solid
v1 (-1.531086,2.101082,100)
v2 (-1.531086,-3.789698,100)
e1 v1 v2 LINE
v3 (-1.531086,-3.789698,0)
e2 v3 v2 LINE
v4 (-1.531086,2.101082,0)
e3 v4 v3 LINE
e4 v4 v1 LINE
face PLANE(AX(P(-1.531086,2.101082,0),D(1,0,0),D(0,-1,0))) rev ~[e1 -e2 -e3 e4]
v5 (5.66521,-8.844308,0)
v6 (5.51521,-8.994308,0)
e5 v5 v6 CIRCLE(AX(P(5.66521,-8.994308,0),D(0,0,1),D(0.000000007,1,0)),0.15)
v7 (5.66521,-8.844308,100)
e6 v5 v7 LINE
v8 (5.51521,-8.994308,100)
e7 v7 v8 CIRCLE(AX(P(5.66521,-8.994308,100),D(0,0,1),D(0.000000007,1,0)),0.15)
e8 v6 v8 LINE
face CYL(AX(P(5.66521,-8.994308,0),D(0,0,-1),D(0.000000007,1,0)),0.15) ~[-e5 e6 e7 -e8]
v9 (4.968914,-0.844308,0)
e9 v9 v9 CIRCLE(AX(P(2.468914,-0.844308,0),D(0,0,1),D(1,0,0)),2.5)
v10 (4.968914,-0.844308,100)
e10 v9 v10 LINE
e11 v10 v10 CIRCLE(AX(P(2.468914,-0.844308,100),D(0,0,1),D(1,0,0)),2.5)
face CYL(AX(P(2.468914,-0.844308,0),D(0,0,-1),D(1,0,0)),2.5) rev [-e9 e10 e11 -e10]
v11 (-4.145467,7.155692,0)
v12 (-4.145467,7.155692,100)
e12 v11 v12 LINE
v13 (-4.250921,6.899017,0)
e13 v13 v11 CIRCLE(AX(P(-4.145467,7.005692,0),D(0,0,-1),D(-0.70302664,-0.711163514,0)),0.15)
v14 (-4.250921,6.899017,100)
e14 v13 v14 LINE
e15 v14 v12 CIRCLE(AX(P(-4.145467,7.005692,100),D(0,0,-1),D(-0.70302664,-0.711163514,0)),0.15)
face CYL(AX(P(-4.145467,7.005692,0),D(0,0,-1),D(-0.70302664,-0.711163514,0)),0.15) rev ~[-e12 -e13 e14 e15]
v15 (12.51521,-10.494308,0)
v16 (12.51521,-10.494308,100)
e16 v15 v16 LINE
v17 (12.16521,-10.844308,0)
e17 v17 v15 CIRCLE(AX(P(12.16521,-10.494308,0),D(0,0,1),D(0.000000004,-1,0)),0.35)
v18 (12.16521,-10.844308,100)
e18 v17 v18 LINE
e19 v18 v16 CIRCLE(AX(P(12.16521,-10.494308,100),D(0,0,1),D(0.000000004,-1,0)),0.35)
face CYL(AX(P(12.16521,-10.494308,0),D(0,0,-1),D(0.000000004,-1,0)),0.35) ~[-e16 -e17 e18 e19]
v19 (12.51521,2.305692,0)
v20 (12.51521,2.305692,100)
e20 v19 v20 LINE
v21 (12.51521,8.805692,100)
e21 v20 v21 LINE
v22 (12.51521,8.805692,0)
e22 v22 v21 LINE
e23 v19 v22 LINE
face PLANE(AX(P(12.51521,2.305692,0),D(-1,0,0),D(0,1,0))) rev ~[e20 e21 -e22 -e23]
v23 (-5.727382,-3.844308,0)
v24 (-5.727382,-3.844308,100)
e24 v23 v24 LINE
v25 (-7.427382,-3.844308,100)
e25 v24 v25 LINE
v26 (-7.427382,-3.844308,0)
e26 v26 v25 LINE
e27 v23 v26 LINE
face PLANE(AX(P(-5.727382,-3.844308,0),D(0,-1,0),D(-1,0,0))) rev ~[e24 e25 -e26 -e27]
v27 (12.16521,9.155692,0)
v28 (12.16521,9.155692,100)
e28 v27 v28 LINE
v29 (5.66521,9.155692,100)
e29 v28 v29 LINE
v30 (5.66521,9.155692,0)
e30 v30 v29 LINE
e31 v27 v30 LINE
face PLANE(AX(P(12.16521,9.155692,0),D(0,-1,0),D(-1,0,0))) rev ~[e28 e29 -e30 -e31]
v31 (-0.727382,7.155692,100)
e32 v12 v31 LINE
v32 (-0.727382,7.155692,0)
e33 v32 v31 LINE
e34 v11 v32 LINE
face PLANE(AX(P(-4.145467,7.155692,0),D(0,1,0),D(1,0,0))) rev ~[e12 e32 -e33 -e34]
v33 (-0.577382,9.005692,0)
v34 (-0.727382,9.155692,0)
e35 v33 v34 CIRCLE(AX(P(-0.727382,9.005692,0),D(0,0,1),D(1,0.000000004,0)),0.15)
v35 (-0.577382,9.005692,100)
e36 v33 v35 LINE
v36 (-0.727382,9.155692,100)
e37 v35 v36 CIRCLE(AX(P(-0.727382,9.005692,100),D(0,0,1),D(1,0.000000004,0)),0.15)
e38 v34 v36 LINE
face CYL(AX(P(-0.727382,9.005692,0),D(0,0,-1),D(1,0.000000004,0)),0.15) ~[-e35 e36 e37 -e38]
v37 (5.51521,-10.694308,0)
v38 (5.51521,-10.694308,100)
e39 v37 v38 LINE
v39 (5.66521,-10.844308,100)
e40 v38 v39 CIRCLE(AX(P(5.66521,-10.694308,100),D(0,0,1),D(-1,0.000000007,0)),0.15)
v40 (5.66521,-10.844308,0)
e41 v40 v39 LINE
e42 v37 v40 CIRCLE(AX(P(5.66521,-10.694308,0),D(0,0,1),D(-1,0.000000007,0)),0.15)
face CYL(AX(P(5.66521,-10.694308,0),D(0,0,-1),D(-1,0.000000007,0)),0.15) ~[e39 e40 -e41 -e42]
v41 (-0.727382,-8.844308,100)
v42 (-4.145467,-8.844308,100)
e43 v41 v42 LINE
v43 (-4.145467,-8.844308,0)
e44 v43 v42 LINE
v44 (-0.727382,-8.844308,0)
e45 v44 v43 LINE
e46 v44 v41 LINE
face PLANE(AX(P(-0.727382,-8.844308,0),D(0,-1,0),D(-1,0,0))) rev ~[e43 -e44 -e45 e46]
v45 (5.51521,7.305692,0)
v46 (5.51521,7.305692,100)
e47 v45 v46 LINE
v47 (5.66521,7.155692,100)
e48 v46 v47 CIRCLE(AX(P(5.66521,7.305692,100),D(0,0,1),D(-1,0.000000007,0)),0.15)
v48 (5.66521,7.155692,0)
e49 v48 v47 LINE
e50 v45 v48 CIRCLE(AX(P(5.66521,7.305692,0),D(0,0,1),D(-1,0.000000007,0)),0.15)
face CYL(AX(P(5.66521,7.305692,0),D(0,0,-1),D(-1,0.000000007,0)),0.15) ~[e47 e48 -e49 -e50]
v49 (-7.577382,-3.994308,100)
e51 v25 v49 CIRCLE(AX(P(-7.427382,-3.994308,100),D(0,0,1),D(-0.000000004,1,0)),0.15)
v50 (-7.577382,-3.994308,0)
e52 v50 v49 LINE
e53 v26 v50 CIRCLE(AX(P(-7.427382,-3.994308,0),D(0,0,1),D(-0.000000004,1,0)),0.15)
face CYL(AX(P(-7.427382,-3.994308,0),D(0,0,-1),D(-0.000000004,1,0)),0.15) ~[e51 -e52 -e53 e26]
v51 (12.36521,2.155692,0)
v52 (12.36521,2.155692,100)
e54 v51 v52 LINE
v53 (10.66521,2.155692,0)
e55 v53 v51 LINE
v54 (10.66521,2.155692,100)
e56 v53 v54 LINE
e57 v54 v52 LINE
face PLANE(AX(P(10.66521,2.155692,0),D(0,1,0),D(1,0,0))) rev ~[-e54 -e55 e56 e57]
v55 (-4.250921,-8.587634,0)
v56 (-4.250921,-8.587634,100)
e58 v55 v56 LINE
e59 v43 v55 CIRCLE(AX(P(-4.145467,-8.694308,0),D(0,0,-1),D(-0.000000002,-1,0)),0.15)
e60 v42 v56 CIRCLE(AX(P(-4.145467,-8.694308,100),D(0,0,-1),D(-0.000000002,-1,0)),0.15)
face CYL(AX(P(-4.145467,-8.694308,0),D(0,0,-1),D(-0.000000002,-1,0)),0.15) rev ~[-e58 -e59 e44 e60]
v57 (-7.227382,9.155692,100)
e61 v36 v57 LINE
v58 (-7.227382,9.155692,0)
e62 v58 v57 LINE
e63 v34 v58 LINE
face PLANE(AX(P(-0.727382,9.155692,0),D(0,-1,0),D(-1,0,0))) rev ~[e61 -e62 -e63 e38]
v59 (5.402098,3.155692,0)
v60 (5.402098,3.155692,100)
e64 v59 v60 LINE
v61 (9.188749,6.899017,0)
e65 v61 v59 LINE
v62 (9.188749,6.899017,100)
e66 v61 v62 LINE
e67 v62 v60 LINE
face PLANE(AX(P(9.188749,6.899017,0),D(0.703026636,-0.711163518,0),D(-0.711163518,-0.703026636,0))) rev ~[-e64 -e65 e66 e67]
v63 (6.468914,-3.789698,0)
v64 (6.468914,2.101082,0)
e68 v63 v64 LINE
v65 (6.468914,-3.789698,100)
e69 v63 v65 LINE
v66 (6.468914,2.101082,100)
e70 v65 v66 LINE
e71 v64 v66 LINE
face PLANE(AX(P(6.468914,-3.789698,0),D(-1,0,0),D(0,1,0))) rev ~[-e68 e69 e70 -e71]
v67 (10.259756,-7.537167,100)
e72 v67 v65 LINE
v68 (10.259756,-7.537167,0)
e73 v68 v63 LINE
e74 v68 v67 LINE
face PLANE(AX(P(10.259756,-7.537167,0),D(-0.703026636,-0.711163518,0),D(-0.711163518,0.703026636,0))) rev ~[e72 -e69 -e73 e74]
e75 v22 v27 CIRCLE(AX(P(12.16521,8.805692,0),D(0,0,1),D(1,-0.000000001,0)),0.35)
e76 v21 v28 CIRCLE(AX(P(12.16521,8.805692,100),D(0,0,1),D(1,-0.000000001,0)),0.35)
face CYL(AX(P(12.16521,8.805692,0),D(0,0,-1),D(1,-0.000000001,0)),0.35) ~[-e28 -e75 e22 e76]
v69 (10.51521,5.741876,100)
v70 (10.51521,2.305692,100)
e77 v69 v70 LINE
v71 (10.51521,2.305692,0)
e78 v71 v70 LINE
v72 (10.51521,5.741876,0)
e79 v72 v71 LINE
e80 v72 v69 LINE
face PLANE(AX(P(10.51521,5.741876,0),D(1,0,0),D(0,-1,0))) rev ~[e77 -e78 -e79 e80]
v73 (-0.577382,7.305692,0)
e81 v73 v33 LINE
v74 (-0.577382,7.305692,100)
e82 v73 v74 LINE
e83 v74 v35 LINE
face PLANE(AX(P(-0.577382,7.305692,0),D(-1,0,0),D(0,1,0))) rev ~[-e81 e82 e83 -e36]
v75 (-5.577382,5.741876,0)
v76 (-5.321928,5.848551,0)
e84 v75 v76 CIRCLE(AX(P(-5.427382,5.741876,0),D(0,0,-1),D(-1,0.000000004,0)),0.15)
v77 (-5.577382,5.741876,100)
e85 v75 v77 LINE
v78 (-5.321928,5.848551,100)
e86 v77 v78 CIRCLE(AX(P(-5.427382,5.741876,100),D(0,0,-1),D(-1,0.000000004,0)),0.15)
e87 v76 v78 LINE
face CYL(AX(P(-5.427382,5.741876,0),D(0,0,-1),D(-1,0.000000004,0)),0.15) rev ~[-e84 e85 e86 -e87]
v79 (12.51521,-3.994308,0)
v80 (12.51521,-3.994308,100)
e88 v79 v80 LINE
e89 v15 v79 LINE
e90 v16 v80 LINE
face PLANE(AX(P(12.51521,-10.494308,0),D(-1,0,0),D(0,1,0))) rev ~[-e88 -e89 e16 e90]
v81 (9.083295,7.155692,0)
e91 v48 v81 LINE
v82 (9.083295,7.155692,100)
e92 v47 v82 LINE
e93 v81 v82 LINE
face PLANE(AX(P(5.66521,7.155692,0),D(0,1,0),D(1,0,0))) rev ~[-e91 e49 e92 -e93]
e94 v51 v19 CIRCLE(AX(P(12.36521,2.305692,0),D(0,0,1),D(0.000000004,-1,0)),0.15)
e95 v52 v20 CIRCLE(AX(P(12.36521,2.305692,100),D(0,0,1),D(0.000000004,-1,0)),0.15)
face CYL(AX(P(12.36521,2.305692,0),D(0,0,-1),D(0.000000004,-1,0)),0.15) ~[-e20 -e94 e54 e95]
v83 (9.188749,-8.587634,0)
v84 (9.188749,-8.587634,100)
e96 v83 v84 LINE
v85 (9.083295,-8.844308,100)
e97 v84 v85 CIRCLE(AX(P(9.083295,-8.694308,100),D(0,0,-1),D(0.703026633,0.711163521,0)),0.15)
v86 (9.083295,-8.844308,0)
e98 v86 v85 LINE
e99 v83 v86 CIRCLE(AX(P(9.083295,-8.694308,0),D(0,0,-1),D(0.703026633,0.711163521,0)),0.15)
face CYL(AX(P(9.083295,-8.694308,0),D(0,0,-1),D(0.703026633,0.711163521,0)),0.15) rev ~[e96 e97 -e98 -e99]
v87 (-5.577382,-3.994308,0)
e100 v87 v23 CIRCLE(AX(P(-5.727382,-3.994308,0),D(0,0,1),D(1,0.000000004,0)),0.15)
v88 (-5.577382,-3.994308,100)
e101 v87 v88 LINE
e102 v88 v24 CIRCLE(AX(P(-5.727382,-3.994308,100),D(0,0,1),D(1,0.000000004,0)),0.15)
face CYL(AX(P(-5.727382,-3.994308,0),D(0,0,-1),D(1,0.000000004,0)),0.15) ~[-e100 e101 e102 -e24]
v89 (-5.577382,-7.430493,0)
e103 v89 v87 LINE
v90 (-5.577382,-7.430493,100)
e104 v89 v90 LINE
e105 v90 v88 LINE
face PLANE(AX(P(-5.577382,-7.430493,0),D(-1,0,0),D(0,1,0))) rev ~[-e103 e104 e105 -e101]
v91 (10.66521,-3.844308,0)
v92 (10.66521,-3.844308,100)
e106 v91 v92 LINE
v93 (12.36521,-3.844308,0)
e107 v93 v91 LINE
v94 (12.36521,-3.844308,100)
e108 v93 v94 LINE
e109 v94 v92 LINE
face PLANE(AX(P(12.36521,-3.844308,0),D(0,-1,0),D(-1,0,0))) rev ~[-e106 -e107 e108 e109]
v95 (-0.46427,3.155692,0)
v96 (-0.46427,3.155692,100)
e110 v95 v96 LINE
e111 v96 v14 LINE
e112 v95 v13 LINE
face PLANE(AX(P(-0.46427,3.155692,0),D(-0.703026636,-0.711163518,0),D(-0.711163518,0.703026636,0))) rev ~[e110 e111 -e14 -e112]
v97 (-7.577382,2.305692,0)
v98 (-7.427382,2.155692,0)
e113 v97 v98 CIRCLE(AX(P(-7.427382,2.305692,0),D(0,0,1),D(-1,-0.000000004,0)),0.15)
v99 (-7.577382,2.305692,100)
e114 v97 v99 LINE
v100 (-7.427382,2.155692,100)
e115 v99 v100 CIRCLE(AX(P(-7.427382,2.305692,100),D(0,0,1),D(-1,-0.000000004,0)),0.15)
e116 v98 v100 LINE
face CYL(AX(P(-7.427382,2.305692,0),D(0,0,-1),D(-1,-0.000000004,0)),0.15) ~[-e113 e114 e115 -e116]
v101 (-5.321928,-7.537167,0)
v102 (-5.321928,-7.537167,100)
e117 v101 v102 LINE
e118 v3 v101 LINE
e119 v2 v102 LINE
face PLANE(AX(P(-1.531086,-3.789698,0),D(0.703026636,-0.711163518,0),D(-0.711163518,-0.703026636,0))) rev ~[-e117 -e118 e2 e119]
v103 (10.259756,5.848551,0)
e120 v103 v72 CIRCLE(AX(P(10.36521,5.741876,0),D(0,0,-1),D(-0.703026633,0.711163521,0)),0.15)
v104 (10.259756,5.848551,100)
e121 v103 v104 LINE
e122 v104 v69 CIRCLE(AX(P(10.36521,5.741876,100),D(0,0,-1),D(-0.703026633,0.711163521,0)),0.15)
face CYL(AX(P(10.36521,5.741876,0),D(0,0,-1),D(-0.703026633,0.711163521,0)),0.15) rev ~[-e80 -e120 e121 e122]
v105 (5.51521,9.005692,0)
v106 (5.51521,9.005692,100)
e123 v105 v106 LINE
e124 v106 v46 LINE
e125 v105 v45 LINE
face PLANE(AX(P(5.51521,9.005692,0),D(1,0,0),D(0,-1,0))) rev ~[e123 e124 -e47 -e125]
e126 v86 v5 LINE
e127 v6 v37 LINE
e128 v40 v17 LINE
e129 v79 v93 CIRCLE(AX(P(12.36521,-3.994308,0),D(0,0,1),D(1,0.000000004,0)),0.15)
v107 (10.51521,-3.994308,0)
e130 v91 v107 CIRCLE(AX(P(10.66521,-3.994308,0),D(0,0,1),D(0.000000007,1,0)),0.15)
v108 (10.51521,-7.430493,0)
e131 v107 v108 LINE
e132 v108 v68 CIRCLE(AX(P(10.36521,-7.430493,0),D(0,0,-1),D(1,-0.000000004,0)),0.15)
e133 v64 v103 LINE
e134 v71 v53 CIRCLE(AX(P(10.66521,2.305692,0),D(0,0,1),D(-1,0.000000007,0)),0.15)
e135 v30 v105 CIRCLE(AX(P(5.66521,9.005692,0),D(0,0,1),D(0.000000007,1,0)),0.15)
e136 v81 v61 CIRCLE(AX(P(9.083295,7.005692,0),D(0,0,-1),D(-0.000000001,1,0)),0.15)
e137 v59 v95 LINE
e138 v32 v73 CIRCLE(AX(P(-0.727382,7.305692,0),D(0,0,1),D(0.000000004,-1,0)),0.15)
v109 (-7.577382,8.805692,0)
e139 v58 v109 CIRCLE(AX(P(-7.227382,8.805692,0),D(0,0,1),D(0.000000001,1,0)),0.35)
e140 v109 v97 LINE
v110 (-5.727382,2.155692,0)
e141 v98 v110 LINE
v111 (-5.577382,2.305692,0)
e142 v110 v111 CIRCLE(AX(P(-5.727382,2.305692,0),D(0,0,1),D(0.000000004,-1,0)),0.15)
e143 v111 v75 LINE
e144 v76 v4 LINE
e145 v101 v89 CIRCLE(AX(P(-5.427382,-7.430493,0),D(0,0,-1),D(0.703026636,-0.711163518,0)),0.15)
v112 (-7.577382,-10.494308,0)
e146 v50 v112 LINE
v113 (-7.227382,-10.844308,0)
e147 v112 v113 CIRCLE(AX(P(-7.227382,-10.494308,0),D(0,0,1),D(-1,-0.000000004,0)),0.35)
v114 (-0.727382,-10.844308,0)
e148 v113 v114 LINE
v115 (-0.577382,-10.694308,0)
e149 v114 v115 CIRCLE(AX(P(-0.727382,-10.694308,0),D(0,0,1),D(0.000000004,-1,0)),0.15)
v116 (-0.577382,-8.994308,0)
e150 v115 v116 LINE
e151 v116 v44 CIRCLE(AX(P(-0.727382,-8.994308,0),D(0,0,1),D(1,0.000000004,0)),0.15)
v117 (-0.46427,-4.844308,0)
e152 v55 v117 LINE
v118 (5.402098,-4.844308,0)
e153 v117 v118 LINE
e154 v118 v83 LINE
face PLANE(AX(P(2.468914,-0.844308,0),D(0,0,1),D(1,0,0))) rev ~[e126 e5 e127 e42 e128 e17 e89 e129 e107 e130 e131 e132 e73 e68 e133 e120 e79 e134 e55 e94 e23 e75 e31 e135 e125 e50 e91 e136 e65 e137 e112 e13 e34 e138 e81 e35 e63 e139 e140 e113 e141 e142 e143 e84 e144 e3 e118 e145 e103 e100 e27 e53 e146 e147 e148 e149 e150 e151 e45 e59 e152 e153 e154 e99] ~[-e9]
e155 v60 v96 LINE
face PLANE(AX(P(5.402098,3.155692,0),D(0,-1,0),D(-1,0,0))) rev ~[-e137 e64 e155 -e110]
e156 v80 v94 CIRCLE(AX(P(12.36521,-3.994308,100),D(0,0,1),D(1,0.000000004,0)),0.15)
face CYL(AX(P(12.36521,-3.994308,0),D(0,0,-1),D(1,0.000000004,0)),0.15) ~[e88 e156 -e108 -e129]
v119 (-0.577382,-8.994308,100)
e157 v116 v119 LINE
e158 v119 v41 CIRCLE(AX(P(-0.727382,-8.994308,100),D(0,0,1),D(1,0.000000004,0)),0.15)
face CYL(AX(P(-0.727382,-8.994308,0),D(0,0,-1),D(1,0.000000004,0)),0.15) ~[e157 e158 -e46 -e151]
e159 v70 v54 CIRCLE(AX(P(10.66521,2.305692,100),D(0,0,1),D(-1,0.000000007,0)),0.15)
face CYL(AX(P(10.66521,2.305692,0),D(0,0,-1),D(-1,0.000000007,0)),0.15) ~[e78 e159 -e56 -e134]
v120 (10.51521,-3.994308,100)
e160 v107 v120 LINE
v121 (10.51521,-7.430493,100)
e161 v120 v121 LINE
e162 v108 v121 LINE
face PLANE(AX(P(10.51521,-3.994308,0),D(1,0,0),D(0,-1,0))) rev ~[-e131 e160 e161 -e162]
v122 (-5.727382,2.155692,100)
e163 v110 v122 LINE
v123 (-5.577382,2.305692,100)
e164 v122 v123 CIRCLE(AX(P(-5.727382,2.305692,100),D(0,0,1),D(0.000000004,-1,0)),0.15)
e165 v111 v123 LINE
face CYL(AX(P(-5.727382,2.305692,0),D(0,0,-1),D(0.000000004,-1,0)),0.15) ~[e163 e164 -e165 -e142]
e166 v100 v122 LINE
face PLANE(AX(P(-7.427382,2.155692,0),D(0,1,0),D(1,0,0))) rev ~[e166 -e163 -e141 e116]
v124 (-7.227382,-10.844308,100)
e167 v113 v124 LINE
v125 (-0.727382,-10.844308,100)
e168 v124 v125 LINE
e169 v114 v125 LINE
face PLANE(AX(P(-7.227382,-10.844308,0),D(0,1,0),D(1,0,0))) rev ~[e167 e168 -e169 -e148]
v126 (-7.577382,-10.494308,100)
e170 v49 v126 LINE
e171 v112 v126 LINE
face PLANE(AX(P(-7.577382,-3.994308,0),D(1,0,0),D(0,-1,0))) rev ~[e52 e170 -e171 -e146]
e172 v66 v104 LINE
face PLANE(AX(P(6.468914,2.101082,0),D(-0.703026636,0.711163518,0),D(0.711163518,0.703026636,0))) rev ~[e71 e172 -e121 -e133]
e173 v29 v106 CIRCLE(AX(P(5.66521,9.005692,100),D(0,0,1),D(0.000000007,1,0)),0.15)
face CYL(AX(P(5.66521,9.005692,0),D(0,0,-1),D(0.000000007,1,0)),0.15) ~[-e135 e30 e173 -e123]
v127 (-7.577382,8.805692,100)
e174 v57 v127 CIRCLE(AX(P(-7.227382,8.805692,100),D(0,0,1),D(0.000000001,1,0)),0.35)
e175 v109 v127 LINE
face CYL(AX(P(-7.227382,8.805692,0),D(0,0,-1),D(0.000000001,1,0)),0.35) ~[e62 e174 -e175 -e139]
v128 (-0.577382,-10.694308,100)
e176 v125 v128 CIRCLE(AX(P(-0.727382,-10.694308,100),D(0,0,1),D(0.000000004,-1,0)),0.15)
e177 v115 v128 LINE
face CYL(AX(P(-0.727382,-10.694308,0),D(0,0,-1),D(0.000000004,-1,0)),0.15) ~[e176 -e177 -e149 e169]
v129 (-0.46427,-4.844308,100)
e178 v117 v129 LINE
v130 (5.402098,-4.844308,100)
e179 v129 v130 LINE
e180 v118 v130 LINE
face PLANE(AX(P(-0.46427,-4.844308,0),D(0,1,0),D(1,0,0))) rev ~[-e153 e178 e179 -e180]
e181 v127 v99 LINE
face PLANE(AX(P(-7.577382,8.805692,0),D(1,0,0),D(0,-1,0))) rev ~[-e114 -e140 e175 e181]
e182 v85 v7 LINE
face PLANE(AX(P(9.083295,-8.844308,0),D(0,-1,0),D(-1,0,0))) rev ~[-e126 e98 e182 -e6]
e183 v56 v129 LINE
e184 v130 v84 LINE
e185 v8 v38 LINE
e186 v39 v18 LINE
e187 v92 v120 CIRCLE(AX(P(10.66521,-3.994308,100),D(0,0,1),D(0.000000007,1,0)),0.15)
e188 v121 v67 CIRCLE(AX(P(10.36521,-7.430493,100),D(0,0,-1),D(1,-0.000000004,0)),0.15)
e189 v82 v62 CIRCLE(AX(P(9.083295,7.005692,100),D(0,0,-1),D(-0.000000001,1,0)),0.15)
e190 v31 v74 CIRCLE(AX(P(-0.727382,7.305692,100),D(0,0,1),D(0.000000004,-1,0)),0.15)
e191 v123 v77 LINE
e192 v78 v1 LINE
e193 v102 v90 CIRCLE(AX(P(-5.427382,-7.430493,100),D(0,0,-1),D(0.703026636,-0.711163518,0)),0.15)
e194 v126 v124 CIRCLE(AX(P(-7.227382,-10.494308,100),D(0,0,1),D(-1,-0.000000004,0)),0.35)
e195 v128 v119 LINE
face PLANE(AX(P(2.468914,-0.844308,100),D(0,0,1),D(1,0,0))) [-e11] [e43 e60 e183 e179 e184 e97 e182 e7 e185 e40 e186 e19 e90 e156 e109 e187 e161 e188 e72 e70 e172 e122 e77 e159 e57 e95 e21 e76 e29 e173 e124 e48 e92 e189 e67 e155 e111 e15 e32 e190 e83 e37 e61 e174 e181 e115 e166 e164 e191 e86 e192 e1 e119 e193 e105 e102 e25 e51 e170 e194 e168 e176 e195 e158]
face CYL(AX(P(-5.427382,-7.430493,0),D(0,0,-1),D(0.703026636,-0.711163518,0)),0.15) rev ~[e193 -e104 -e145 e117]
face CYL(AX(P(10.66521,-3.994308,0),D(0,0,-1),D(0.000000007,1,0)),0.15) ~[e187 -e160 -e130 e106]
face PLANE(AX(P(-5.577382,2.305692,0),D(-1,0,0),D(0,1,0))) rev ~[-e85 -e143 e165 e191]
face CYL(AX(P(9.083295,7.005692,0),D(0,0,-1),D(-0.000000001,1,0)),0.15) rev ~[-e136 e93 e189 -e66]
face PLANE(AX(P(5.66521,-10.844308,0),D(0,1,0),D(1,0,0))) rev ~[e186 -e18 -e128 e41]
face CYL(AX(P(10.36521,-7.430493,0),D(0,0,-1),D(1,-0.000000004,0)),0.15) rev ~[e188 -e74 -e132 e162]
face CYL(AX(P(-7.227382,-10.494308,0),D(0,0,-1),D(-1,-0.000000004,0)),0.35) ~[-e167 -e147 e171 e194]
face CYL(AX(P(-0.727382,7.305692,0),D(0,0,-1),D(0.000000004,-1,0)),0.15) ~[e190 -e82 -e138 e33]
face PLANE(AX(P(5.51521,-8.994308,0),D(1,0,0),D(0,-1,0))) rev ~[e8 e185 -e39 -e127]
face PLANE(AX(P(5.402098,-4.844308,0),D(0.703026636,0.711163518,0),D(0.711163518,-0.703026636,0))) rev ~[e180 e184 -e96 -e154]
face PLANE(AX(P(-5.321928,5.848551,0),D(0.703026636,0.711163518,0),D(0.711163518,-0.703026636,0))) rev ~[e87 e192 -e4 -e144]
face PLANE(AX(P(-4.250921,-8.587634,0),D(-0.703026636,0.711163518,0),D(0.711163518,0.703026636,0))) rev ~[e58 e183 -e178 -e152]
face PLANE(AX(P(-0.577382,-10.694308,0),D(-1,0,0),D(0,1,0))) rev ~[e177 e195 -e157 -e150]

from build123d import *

# Parameters (mm, degrees)
SKETCH1_R           = 2.5
BOSS_EXTRUDE1_DEPTH = 100


with BuildPart() as part:
    # Sketch1 → Boss-Extrude1 (new body)
    with BuildSketch(Plane.XY):
        with BuildLine():
            Line((-7.427382464, 2.155691805), (-5.727382464, 2.155691805))
            ThreePointArc((-5.727382464, 2.155691805), (-5.621316447, 2.199625788), (-5.577382464, 2.305691805))
            Line((-5.577382464, 2.305691805), (-5.577382464, 5.741876319))
            ThreePointArc((-5.577382464, 5.741876319), (-5.485183419, 5.880292537), (-5.321928469, 5.848550846))
            Line((-5.321928469, 5.848550846), (-1.531086168, 2.101082027))
            Line((-1.531086168, 2.101082027), (-1.531086168, -3.789698417))
            Line((-1.531086168, -3.789698417), (-5.321928469, -7.537167236))
            ThreePointArc((-5.321928469, -7.537167236), (-5.485183419, -7.568908927), (-5.577382464, -7.430492708))
            Line((-5.577382464, -7.430492708), (-5.577382464, -3.994308195))
            ThreePointArc((-5.577382464, -3.994308195), (-5.621316447, -3.888242178), (-5.727382464, -3.844308195))
            Line((-5.727382464, -3.844308195), (-7.427382464, -3.844308195))
            ThreePointArc((-7.427382464, -3.844308195), (-7.533448481, -3.888242178), (-7.577382464, -3.994308195))
            Line((-7.577382464, -3.994308195), (-7.577382464, -10.494308195))
            ThreePointArc((-7.577382464, -10.494308195), (-7.474869837, -10.741795568), (-7.227382464, -10.844308195))
            Line((-7.227382464, -10.844308195), (-0.727382464, -10.844308195))
            ThreePointArc((-0.727382464, -10.844308195), (-0.621316447, -10.800374212), (-0.577382464, -10.694308195))
            Line((-0.577382464, -10.694308195), (-0.577382464, -8.994308195))
            ThreePointArc((-0.577382464, -8.994308195), (-0.621316447, -8.888242178), (-0.727382464, -8.844308195))
            Line((-0.727382464, -8.844308195), (-4.145467261, -8.844308195))
            ThreePointArc((-4.145467261, -8.844308195), (-4.284213755, -8.751311795), (-4.250921257, -8.587633667))
            Line((-4.250921257, -8.587633667), (-0.464270258, -4.844308195))
            Line((-0.464270258, -4.844308195), (5.402097922, -4.844308195))
            Line((5.402097922, -4.844308195), (9.188748921, -8.587633667))
            ThreePointArc((9.188748921, -8.587633667), (9.22204142, -8.751311795), (9.083294926, -8.844308195))
            Line((9.083294926, -8.844308195), (5.665210129, -8.844308195))
            ThreePointArc((5.665210129, -8.844308195), (5.559144111, -8.888242178), (5.515210129, -8.994308195))
            Line((5.515210129, -8.994308195), (5.515210129, -10.694308195))
            ThreePointArc((5.515210129, -10.694308195), (5.559144111, -10.800374212), (5.665210129, -10.844308195))
            Line((5.665210129, -10.844308195), (12.165210129, -10.844308195))
            ThreePointArc((12.165210129, -10.844308195), (12.412697502, -10.741795568), (12.515210129, -10.494308195))
            Line((12.515210129, -10.494308195), (12.515210129, -3.994308195))
            ThreePointArc((12.515210129, -3.994308195), (12.471276146, -3.888242178), (12.365210129, -3.844308195))
            Line((12.365210129, -3.844308195), (10.665210129, -3.844308195))
            ThreePointArc((10.665210129, -3.844308195), (10.559144111, -3.888242178), (10.515210129, -3.994308195))
            Line((10.515210129, -3.994308195), (10.515210129, -7.430492708))
            ThreePointArc((10.515210129, -7.430492708), (10.423011083, -7.568908927), (10.259756133, -7.537167236))
            Line((10.259756133, -7.537167236), (6.468913832, -3.789698417))
            Line((6.468913832, -3.789698417), (6.468913832, 2.101082027))
            Line((6.468913832, 2.101082027), (10.259756133, 5.848550846))
            ThreePointArc((10.259756133, 5.848550846), (10.423011083, 5.880292537), (10.515210129, 5.741876319))
            Line((10.515210129, 5.741876319), (10.515210129, 2.305691805))
            ThreePointArc((10.515210129, 2.305691805), (10.559144111, 2.199625788), (10.665210129, 2.155691805))
            Line((10.665210129, 2.155691805), (12.365210129, 2.155691805))
            ThreePointArc((12.365210129, 2.155691805), (12.471276146, 2.199625788), (12.515210129, 2.305691805))
            Line((12.515210129, 2.305691805), (12.515210129, 8.805691805))
            ThreePointArc((12.515210129, 8.805691805), (12.412697502, 9.053179179), (12.165210129, 9.155691805))
            Line((12.165210129, 9.155691805), (5.665210129, 9.155691805))
            ThreePointArc((5.665210129, 9.155691805), (5.559144111, 9.111757822), (5.515210129, 9.005691805))
            Line((5.515210129, 9.005691805), (5.515210129, 7.305691805))
            ThreePointArc((5.515210129, 7.305691805), (5.559144111, 7.199625788), (5.665210129, 7.155691805))
            Line((5.665210129, 7.155691805), (9.083294926, 7.155691805))
            ThreePointArc((9.083294926, 7.155691805), (9.22204142, 7.062695405), (9.188748921, 6.899017277))
            Line((9.188748921, 6.899017277), (5.402097922, 3.155691805))
            Line((5.402097922, 3.155691805), (-0.464270258, 3.155691805))
            Line((-0.464270258, 3.155691805), (-4.250921257, 6.899017277))
            ThreePointArc((-4.250921257, 6.899017277), (-4.284213755, 7.062695405), (-4.145467261, 7.155691805))
            Line((-4.145467261, 7.155691805), (-0.727382464, 7.155691805))
            ThreePointArc((-0.727382464, 7.155691805), (-0.621316447, 7.199625788), (-0.577382464, 7.305691805))
            Line((-0.577382464, 7.305691805), (-0.577382464, 9.005691805))
            ThreePointArc((-0.577382464, 9.005691805), (-0.621316447, 9.111757822), (-0.727382464, 9.155691805))
            Line((-0.727382464, 9.155691805), (-7.227382464, 9.155691805))
            ThreePointArc((-7.227382464, 9.155691805), (-7.474869837, 9.053179179), (-7.577382464, 8.805691805))
            Line((-7.577382464, 8.805691805), (-7.577382464, 2.305691805))
            ThreePointArc((-7.577382464, 2.305691805), (-7.533448481, 2.199625788), (-7.427382464, 2.155691805))
        make_face()
        with Locations((2.468913832, -0.844308195)):
            Circle(SKETCH1_R, mode=Mode.SUBTRACT)
    extrude(amount=BOSS_EXTRUDE1_DEPTH)


solid = part.part
